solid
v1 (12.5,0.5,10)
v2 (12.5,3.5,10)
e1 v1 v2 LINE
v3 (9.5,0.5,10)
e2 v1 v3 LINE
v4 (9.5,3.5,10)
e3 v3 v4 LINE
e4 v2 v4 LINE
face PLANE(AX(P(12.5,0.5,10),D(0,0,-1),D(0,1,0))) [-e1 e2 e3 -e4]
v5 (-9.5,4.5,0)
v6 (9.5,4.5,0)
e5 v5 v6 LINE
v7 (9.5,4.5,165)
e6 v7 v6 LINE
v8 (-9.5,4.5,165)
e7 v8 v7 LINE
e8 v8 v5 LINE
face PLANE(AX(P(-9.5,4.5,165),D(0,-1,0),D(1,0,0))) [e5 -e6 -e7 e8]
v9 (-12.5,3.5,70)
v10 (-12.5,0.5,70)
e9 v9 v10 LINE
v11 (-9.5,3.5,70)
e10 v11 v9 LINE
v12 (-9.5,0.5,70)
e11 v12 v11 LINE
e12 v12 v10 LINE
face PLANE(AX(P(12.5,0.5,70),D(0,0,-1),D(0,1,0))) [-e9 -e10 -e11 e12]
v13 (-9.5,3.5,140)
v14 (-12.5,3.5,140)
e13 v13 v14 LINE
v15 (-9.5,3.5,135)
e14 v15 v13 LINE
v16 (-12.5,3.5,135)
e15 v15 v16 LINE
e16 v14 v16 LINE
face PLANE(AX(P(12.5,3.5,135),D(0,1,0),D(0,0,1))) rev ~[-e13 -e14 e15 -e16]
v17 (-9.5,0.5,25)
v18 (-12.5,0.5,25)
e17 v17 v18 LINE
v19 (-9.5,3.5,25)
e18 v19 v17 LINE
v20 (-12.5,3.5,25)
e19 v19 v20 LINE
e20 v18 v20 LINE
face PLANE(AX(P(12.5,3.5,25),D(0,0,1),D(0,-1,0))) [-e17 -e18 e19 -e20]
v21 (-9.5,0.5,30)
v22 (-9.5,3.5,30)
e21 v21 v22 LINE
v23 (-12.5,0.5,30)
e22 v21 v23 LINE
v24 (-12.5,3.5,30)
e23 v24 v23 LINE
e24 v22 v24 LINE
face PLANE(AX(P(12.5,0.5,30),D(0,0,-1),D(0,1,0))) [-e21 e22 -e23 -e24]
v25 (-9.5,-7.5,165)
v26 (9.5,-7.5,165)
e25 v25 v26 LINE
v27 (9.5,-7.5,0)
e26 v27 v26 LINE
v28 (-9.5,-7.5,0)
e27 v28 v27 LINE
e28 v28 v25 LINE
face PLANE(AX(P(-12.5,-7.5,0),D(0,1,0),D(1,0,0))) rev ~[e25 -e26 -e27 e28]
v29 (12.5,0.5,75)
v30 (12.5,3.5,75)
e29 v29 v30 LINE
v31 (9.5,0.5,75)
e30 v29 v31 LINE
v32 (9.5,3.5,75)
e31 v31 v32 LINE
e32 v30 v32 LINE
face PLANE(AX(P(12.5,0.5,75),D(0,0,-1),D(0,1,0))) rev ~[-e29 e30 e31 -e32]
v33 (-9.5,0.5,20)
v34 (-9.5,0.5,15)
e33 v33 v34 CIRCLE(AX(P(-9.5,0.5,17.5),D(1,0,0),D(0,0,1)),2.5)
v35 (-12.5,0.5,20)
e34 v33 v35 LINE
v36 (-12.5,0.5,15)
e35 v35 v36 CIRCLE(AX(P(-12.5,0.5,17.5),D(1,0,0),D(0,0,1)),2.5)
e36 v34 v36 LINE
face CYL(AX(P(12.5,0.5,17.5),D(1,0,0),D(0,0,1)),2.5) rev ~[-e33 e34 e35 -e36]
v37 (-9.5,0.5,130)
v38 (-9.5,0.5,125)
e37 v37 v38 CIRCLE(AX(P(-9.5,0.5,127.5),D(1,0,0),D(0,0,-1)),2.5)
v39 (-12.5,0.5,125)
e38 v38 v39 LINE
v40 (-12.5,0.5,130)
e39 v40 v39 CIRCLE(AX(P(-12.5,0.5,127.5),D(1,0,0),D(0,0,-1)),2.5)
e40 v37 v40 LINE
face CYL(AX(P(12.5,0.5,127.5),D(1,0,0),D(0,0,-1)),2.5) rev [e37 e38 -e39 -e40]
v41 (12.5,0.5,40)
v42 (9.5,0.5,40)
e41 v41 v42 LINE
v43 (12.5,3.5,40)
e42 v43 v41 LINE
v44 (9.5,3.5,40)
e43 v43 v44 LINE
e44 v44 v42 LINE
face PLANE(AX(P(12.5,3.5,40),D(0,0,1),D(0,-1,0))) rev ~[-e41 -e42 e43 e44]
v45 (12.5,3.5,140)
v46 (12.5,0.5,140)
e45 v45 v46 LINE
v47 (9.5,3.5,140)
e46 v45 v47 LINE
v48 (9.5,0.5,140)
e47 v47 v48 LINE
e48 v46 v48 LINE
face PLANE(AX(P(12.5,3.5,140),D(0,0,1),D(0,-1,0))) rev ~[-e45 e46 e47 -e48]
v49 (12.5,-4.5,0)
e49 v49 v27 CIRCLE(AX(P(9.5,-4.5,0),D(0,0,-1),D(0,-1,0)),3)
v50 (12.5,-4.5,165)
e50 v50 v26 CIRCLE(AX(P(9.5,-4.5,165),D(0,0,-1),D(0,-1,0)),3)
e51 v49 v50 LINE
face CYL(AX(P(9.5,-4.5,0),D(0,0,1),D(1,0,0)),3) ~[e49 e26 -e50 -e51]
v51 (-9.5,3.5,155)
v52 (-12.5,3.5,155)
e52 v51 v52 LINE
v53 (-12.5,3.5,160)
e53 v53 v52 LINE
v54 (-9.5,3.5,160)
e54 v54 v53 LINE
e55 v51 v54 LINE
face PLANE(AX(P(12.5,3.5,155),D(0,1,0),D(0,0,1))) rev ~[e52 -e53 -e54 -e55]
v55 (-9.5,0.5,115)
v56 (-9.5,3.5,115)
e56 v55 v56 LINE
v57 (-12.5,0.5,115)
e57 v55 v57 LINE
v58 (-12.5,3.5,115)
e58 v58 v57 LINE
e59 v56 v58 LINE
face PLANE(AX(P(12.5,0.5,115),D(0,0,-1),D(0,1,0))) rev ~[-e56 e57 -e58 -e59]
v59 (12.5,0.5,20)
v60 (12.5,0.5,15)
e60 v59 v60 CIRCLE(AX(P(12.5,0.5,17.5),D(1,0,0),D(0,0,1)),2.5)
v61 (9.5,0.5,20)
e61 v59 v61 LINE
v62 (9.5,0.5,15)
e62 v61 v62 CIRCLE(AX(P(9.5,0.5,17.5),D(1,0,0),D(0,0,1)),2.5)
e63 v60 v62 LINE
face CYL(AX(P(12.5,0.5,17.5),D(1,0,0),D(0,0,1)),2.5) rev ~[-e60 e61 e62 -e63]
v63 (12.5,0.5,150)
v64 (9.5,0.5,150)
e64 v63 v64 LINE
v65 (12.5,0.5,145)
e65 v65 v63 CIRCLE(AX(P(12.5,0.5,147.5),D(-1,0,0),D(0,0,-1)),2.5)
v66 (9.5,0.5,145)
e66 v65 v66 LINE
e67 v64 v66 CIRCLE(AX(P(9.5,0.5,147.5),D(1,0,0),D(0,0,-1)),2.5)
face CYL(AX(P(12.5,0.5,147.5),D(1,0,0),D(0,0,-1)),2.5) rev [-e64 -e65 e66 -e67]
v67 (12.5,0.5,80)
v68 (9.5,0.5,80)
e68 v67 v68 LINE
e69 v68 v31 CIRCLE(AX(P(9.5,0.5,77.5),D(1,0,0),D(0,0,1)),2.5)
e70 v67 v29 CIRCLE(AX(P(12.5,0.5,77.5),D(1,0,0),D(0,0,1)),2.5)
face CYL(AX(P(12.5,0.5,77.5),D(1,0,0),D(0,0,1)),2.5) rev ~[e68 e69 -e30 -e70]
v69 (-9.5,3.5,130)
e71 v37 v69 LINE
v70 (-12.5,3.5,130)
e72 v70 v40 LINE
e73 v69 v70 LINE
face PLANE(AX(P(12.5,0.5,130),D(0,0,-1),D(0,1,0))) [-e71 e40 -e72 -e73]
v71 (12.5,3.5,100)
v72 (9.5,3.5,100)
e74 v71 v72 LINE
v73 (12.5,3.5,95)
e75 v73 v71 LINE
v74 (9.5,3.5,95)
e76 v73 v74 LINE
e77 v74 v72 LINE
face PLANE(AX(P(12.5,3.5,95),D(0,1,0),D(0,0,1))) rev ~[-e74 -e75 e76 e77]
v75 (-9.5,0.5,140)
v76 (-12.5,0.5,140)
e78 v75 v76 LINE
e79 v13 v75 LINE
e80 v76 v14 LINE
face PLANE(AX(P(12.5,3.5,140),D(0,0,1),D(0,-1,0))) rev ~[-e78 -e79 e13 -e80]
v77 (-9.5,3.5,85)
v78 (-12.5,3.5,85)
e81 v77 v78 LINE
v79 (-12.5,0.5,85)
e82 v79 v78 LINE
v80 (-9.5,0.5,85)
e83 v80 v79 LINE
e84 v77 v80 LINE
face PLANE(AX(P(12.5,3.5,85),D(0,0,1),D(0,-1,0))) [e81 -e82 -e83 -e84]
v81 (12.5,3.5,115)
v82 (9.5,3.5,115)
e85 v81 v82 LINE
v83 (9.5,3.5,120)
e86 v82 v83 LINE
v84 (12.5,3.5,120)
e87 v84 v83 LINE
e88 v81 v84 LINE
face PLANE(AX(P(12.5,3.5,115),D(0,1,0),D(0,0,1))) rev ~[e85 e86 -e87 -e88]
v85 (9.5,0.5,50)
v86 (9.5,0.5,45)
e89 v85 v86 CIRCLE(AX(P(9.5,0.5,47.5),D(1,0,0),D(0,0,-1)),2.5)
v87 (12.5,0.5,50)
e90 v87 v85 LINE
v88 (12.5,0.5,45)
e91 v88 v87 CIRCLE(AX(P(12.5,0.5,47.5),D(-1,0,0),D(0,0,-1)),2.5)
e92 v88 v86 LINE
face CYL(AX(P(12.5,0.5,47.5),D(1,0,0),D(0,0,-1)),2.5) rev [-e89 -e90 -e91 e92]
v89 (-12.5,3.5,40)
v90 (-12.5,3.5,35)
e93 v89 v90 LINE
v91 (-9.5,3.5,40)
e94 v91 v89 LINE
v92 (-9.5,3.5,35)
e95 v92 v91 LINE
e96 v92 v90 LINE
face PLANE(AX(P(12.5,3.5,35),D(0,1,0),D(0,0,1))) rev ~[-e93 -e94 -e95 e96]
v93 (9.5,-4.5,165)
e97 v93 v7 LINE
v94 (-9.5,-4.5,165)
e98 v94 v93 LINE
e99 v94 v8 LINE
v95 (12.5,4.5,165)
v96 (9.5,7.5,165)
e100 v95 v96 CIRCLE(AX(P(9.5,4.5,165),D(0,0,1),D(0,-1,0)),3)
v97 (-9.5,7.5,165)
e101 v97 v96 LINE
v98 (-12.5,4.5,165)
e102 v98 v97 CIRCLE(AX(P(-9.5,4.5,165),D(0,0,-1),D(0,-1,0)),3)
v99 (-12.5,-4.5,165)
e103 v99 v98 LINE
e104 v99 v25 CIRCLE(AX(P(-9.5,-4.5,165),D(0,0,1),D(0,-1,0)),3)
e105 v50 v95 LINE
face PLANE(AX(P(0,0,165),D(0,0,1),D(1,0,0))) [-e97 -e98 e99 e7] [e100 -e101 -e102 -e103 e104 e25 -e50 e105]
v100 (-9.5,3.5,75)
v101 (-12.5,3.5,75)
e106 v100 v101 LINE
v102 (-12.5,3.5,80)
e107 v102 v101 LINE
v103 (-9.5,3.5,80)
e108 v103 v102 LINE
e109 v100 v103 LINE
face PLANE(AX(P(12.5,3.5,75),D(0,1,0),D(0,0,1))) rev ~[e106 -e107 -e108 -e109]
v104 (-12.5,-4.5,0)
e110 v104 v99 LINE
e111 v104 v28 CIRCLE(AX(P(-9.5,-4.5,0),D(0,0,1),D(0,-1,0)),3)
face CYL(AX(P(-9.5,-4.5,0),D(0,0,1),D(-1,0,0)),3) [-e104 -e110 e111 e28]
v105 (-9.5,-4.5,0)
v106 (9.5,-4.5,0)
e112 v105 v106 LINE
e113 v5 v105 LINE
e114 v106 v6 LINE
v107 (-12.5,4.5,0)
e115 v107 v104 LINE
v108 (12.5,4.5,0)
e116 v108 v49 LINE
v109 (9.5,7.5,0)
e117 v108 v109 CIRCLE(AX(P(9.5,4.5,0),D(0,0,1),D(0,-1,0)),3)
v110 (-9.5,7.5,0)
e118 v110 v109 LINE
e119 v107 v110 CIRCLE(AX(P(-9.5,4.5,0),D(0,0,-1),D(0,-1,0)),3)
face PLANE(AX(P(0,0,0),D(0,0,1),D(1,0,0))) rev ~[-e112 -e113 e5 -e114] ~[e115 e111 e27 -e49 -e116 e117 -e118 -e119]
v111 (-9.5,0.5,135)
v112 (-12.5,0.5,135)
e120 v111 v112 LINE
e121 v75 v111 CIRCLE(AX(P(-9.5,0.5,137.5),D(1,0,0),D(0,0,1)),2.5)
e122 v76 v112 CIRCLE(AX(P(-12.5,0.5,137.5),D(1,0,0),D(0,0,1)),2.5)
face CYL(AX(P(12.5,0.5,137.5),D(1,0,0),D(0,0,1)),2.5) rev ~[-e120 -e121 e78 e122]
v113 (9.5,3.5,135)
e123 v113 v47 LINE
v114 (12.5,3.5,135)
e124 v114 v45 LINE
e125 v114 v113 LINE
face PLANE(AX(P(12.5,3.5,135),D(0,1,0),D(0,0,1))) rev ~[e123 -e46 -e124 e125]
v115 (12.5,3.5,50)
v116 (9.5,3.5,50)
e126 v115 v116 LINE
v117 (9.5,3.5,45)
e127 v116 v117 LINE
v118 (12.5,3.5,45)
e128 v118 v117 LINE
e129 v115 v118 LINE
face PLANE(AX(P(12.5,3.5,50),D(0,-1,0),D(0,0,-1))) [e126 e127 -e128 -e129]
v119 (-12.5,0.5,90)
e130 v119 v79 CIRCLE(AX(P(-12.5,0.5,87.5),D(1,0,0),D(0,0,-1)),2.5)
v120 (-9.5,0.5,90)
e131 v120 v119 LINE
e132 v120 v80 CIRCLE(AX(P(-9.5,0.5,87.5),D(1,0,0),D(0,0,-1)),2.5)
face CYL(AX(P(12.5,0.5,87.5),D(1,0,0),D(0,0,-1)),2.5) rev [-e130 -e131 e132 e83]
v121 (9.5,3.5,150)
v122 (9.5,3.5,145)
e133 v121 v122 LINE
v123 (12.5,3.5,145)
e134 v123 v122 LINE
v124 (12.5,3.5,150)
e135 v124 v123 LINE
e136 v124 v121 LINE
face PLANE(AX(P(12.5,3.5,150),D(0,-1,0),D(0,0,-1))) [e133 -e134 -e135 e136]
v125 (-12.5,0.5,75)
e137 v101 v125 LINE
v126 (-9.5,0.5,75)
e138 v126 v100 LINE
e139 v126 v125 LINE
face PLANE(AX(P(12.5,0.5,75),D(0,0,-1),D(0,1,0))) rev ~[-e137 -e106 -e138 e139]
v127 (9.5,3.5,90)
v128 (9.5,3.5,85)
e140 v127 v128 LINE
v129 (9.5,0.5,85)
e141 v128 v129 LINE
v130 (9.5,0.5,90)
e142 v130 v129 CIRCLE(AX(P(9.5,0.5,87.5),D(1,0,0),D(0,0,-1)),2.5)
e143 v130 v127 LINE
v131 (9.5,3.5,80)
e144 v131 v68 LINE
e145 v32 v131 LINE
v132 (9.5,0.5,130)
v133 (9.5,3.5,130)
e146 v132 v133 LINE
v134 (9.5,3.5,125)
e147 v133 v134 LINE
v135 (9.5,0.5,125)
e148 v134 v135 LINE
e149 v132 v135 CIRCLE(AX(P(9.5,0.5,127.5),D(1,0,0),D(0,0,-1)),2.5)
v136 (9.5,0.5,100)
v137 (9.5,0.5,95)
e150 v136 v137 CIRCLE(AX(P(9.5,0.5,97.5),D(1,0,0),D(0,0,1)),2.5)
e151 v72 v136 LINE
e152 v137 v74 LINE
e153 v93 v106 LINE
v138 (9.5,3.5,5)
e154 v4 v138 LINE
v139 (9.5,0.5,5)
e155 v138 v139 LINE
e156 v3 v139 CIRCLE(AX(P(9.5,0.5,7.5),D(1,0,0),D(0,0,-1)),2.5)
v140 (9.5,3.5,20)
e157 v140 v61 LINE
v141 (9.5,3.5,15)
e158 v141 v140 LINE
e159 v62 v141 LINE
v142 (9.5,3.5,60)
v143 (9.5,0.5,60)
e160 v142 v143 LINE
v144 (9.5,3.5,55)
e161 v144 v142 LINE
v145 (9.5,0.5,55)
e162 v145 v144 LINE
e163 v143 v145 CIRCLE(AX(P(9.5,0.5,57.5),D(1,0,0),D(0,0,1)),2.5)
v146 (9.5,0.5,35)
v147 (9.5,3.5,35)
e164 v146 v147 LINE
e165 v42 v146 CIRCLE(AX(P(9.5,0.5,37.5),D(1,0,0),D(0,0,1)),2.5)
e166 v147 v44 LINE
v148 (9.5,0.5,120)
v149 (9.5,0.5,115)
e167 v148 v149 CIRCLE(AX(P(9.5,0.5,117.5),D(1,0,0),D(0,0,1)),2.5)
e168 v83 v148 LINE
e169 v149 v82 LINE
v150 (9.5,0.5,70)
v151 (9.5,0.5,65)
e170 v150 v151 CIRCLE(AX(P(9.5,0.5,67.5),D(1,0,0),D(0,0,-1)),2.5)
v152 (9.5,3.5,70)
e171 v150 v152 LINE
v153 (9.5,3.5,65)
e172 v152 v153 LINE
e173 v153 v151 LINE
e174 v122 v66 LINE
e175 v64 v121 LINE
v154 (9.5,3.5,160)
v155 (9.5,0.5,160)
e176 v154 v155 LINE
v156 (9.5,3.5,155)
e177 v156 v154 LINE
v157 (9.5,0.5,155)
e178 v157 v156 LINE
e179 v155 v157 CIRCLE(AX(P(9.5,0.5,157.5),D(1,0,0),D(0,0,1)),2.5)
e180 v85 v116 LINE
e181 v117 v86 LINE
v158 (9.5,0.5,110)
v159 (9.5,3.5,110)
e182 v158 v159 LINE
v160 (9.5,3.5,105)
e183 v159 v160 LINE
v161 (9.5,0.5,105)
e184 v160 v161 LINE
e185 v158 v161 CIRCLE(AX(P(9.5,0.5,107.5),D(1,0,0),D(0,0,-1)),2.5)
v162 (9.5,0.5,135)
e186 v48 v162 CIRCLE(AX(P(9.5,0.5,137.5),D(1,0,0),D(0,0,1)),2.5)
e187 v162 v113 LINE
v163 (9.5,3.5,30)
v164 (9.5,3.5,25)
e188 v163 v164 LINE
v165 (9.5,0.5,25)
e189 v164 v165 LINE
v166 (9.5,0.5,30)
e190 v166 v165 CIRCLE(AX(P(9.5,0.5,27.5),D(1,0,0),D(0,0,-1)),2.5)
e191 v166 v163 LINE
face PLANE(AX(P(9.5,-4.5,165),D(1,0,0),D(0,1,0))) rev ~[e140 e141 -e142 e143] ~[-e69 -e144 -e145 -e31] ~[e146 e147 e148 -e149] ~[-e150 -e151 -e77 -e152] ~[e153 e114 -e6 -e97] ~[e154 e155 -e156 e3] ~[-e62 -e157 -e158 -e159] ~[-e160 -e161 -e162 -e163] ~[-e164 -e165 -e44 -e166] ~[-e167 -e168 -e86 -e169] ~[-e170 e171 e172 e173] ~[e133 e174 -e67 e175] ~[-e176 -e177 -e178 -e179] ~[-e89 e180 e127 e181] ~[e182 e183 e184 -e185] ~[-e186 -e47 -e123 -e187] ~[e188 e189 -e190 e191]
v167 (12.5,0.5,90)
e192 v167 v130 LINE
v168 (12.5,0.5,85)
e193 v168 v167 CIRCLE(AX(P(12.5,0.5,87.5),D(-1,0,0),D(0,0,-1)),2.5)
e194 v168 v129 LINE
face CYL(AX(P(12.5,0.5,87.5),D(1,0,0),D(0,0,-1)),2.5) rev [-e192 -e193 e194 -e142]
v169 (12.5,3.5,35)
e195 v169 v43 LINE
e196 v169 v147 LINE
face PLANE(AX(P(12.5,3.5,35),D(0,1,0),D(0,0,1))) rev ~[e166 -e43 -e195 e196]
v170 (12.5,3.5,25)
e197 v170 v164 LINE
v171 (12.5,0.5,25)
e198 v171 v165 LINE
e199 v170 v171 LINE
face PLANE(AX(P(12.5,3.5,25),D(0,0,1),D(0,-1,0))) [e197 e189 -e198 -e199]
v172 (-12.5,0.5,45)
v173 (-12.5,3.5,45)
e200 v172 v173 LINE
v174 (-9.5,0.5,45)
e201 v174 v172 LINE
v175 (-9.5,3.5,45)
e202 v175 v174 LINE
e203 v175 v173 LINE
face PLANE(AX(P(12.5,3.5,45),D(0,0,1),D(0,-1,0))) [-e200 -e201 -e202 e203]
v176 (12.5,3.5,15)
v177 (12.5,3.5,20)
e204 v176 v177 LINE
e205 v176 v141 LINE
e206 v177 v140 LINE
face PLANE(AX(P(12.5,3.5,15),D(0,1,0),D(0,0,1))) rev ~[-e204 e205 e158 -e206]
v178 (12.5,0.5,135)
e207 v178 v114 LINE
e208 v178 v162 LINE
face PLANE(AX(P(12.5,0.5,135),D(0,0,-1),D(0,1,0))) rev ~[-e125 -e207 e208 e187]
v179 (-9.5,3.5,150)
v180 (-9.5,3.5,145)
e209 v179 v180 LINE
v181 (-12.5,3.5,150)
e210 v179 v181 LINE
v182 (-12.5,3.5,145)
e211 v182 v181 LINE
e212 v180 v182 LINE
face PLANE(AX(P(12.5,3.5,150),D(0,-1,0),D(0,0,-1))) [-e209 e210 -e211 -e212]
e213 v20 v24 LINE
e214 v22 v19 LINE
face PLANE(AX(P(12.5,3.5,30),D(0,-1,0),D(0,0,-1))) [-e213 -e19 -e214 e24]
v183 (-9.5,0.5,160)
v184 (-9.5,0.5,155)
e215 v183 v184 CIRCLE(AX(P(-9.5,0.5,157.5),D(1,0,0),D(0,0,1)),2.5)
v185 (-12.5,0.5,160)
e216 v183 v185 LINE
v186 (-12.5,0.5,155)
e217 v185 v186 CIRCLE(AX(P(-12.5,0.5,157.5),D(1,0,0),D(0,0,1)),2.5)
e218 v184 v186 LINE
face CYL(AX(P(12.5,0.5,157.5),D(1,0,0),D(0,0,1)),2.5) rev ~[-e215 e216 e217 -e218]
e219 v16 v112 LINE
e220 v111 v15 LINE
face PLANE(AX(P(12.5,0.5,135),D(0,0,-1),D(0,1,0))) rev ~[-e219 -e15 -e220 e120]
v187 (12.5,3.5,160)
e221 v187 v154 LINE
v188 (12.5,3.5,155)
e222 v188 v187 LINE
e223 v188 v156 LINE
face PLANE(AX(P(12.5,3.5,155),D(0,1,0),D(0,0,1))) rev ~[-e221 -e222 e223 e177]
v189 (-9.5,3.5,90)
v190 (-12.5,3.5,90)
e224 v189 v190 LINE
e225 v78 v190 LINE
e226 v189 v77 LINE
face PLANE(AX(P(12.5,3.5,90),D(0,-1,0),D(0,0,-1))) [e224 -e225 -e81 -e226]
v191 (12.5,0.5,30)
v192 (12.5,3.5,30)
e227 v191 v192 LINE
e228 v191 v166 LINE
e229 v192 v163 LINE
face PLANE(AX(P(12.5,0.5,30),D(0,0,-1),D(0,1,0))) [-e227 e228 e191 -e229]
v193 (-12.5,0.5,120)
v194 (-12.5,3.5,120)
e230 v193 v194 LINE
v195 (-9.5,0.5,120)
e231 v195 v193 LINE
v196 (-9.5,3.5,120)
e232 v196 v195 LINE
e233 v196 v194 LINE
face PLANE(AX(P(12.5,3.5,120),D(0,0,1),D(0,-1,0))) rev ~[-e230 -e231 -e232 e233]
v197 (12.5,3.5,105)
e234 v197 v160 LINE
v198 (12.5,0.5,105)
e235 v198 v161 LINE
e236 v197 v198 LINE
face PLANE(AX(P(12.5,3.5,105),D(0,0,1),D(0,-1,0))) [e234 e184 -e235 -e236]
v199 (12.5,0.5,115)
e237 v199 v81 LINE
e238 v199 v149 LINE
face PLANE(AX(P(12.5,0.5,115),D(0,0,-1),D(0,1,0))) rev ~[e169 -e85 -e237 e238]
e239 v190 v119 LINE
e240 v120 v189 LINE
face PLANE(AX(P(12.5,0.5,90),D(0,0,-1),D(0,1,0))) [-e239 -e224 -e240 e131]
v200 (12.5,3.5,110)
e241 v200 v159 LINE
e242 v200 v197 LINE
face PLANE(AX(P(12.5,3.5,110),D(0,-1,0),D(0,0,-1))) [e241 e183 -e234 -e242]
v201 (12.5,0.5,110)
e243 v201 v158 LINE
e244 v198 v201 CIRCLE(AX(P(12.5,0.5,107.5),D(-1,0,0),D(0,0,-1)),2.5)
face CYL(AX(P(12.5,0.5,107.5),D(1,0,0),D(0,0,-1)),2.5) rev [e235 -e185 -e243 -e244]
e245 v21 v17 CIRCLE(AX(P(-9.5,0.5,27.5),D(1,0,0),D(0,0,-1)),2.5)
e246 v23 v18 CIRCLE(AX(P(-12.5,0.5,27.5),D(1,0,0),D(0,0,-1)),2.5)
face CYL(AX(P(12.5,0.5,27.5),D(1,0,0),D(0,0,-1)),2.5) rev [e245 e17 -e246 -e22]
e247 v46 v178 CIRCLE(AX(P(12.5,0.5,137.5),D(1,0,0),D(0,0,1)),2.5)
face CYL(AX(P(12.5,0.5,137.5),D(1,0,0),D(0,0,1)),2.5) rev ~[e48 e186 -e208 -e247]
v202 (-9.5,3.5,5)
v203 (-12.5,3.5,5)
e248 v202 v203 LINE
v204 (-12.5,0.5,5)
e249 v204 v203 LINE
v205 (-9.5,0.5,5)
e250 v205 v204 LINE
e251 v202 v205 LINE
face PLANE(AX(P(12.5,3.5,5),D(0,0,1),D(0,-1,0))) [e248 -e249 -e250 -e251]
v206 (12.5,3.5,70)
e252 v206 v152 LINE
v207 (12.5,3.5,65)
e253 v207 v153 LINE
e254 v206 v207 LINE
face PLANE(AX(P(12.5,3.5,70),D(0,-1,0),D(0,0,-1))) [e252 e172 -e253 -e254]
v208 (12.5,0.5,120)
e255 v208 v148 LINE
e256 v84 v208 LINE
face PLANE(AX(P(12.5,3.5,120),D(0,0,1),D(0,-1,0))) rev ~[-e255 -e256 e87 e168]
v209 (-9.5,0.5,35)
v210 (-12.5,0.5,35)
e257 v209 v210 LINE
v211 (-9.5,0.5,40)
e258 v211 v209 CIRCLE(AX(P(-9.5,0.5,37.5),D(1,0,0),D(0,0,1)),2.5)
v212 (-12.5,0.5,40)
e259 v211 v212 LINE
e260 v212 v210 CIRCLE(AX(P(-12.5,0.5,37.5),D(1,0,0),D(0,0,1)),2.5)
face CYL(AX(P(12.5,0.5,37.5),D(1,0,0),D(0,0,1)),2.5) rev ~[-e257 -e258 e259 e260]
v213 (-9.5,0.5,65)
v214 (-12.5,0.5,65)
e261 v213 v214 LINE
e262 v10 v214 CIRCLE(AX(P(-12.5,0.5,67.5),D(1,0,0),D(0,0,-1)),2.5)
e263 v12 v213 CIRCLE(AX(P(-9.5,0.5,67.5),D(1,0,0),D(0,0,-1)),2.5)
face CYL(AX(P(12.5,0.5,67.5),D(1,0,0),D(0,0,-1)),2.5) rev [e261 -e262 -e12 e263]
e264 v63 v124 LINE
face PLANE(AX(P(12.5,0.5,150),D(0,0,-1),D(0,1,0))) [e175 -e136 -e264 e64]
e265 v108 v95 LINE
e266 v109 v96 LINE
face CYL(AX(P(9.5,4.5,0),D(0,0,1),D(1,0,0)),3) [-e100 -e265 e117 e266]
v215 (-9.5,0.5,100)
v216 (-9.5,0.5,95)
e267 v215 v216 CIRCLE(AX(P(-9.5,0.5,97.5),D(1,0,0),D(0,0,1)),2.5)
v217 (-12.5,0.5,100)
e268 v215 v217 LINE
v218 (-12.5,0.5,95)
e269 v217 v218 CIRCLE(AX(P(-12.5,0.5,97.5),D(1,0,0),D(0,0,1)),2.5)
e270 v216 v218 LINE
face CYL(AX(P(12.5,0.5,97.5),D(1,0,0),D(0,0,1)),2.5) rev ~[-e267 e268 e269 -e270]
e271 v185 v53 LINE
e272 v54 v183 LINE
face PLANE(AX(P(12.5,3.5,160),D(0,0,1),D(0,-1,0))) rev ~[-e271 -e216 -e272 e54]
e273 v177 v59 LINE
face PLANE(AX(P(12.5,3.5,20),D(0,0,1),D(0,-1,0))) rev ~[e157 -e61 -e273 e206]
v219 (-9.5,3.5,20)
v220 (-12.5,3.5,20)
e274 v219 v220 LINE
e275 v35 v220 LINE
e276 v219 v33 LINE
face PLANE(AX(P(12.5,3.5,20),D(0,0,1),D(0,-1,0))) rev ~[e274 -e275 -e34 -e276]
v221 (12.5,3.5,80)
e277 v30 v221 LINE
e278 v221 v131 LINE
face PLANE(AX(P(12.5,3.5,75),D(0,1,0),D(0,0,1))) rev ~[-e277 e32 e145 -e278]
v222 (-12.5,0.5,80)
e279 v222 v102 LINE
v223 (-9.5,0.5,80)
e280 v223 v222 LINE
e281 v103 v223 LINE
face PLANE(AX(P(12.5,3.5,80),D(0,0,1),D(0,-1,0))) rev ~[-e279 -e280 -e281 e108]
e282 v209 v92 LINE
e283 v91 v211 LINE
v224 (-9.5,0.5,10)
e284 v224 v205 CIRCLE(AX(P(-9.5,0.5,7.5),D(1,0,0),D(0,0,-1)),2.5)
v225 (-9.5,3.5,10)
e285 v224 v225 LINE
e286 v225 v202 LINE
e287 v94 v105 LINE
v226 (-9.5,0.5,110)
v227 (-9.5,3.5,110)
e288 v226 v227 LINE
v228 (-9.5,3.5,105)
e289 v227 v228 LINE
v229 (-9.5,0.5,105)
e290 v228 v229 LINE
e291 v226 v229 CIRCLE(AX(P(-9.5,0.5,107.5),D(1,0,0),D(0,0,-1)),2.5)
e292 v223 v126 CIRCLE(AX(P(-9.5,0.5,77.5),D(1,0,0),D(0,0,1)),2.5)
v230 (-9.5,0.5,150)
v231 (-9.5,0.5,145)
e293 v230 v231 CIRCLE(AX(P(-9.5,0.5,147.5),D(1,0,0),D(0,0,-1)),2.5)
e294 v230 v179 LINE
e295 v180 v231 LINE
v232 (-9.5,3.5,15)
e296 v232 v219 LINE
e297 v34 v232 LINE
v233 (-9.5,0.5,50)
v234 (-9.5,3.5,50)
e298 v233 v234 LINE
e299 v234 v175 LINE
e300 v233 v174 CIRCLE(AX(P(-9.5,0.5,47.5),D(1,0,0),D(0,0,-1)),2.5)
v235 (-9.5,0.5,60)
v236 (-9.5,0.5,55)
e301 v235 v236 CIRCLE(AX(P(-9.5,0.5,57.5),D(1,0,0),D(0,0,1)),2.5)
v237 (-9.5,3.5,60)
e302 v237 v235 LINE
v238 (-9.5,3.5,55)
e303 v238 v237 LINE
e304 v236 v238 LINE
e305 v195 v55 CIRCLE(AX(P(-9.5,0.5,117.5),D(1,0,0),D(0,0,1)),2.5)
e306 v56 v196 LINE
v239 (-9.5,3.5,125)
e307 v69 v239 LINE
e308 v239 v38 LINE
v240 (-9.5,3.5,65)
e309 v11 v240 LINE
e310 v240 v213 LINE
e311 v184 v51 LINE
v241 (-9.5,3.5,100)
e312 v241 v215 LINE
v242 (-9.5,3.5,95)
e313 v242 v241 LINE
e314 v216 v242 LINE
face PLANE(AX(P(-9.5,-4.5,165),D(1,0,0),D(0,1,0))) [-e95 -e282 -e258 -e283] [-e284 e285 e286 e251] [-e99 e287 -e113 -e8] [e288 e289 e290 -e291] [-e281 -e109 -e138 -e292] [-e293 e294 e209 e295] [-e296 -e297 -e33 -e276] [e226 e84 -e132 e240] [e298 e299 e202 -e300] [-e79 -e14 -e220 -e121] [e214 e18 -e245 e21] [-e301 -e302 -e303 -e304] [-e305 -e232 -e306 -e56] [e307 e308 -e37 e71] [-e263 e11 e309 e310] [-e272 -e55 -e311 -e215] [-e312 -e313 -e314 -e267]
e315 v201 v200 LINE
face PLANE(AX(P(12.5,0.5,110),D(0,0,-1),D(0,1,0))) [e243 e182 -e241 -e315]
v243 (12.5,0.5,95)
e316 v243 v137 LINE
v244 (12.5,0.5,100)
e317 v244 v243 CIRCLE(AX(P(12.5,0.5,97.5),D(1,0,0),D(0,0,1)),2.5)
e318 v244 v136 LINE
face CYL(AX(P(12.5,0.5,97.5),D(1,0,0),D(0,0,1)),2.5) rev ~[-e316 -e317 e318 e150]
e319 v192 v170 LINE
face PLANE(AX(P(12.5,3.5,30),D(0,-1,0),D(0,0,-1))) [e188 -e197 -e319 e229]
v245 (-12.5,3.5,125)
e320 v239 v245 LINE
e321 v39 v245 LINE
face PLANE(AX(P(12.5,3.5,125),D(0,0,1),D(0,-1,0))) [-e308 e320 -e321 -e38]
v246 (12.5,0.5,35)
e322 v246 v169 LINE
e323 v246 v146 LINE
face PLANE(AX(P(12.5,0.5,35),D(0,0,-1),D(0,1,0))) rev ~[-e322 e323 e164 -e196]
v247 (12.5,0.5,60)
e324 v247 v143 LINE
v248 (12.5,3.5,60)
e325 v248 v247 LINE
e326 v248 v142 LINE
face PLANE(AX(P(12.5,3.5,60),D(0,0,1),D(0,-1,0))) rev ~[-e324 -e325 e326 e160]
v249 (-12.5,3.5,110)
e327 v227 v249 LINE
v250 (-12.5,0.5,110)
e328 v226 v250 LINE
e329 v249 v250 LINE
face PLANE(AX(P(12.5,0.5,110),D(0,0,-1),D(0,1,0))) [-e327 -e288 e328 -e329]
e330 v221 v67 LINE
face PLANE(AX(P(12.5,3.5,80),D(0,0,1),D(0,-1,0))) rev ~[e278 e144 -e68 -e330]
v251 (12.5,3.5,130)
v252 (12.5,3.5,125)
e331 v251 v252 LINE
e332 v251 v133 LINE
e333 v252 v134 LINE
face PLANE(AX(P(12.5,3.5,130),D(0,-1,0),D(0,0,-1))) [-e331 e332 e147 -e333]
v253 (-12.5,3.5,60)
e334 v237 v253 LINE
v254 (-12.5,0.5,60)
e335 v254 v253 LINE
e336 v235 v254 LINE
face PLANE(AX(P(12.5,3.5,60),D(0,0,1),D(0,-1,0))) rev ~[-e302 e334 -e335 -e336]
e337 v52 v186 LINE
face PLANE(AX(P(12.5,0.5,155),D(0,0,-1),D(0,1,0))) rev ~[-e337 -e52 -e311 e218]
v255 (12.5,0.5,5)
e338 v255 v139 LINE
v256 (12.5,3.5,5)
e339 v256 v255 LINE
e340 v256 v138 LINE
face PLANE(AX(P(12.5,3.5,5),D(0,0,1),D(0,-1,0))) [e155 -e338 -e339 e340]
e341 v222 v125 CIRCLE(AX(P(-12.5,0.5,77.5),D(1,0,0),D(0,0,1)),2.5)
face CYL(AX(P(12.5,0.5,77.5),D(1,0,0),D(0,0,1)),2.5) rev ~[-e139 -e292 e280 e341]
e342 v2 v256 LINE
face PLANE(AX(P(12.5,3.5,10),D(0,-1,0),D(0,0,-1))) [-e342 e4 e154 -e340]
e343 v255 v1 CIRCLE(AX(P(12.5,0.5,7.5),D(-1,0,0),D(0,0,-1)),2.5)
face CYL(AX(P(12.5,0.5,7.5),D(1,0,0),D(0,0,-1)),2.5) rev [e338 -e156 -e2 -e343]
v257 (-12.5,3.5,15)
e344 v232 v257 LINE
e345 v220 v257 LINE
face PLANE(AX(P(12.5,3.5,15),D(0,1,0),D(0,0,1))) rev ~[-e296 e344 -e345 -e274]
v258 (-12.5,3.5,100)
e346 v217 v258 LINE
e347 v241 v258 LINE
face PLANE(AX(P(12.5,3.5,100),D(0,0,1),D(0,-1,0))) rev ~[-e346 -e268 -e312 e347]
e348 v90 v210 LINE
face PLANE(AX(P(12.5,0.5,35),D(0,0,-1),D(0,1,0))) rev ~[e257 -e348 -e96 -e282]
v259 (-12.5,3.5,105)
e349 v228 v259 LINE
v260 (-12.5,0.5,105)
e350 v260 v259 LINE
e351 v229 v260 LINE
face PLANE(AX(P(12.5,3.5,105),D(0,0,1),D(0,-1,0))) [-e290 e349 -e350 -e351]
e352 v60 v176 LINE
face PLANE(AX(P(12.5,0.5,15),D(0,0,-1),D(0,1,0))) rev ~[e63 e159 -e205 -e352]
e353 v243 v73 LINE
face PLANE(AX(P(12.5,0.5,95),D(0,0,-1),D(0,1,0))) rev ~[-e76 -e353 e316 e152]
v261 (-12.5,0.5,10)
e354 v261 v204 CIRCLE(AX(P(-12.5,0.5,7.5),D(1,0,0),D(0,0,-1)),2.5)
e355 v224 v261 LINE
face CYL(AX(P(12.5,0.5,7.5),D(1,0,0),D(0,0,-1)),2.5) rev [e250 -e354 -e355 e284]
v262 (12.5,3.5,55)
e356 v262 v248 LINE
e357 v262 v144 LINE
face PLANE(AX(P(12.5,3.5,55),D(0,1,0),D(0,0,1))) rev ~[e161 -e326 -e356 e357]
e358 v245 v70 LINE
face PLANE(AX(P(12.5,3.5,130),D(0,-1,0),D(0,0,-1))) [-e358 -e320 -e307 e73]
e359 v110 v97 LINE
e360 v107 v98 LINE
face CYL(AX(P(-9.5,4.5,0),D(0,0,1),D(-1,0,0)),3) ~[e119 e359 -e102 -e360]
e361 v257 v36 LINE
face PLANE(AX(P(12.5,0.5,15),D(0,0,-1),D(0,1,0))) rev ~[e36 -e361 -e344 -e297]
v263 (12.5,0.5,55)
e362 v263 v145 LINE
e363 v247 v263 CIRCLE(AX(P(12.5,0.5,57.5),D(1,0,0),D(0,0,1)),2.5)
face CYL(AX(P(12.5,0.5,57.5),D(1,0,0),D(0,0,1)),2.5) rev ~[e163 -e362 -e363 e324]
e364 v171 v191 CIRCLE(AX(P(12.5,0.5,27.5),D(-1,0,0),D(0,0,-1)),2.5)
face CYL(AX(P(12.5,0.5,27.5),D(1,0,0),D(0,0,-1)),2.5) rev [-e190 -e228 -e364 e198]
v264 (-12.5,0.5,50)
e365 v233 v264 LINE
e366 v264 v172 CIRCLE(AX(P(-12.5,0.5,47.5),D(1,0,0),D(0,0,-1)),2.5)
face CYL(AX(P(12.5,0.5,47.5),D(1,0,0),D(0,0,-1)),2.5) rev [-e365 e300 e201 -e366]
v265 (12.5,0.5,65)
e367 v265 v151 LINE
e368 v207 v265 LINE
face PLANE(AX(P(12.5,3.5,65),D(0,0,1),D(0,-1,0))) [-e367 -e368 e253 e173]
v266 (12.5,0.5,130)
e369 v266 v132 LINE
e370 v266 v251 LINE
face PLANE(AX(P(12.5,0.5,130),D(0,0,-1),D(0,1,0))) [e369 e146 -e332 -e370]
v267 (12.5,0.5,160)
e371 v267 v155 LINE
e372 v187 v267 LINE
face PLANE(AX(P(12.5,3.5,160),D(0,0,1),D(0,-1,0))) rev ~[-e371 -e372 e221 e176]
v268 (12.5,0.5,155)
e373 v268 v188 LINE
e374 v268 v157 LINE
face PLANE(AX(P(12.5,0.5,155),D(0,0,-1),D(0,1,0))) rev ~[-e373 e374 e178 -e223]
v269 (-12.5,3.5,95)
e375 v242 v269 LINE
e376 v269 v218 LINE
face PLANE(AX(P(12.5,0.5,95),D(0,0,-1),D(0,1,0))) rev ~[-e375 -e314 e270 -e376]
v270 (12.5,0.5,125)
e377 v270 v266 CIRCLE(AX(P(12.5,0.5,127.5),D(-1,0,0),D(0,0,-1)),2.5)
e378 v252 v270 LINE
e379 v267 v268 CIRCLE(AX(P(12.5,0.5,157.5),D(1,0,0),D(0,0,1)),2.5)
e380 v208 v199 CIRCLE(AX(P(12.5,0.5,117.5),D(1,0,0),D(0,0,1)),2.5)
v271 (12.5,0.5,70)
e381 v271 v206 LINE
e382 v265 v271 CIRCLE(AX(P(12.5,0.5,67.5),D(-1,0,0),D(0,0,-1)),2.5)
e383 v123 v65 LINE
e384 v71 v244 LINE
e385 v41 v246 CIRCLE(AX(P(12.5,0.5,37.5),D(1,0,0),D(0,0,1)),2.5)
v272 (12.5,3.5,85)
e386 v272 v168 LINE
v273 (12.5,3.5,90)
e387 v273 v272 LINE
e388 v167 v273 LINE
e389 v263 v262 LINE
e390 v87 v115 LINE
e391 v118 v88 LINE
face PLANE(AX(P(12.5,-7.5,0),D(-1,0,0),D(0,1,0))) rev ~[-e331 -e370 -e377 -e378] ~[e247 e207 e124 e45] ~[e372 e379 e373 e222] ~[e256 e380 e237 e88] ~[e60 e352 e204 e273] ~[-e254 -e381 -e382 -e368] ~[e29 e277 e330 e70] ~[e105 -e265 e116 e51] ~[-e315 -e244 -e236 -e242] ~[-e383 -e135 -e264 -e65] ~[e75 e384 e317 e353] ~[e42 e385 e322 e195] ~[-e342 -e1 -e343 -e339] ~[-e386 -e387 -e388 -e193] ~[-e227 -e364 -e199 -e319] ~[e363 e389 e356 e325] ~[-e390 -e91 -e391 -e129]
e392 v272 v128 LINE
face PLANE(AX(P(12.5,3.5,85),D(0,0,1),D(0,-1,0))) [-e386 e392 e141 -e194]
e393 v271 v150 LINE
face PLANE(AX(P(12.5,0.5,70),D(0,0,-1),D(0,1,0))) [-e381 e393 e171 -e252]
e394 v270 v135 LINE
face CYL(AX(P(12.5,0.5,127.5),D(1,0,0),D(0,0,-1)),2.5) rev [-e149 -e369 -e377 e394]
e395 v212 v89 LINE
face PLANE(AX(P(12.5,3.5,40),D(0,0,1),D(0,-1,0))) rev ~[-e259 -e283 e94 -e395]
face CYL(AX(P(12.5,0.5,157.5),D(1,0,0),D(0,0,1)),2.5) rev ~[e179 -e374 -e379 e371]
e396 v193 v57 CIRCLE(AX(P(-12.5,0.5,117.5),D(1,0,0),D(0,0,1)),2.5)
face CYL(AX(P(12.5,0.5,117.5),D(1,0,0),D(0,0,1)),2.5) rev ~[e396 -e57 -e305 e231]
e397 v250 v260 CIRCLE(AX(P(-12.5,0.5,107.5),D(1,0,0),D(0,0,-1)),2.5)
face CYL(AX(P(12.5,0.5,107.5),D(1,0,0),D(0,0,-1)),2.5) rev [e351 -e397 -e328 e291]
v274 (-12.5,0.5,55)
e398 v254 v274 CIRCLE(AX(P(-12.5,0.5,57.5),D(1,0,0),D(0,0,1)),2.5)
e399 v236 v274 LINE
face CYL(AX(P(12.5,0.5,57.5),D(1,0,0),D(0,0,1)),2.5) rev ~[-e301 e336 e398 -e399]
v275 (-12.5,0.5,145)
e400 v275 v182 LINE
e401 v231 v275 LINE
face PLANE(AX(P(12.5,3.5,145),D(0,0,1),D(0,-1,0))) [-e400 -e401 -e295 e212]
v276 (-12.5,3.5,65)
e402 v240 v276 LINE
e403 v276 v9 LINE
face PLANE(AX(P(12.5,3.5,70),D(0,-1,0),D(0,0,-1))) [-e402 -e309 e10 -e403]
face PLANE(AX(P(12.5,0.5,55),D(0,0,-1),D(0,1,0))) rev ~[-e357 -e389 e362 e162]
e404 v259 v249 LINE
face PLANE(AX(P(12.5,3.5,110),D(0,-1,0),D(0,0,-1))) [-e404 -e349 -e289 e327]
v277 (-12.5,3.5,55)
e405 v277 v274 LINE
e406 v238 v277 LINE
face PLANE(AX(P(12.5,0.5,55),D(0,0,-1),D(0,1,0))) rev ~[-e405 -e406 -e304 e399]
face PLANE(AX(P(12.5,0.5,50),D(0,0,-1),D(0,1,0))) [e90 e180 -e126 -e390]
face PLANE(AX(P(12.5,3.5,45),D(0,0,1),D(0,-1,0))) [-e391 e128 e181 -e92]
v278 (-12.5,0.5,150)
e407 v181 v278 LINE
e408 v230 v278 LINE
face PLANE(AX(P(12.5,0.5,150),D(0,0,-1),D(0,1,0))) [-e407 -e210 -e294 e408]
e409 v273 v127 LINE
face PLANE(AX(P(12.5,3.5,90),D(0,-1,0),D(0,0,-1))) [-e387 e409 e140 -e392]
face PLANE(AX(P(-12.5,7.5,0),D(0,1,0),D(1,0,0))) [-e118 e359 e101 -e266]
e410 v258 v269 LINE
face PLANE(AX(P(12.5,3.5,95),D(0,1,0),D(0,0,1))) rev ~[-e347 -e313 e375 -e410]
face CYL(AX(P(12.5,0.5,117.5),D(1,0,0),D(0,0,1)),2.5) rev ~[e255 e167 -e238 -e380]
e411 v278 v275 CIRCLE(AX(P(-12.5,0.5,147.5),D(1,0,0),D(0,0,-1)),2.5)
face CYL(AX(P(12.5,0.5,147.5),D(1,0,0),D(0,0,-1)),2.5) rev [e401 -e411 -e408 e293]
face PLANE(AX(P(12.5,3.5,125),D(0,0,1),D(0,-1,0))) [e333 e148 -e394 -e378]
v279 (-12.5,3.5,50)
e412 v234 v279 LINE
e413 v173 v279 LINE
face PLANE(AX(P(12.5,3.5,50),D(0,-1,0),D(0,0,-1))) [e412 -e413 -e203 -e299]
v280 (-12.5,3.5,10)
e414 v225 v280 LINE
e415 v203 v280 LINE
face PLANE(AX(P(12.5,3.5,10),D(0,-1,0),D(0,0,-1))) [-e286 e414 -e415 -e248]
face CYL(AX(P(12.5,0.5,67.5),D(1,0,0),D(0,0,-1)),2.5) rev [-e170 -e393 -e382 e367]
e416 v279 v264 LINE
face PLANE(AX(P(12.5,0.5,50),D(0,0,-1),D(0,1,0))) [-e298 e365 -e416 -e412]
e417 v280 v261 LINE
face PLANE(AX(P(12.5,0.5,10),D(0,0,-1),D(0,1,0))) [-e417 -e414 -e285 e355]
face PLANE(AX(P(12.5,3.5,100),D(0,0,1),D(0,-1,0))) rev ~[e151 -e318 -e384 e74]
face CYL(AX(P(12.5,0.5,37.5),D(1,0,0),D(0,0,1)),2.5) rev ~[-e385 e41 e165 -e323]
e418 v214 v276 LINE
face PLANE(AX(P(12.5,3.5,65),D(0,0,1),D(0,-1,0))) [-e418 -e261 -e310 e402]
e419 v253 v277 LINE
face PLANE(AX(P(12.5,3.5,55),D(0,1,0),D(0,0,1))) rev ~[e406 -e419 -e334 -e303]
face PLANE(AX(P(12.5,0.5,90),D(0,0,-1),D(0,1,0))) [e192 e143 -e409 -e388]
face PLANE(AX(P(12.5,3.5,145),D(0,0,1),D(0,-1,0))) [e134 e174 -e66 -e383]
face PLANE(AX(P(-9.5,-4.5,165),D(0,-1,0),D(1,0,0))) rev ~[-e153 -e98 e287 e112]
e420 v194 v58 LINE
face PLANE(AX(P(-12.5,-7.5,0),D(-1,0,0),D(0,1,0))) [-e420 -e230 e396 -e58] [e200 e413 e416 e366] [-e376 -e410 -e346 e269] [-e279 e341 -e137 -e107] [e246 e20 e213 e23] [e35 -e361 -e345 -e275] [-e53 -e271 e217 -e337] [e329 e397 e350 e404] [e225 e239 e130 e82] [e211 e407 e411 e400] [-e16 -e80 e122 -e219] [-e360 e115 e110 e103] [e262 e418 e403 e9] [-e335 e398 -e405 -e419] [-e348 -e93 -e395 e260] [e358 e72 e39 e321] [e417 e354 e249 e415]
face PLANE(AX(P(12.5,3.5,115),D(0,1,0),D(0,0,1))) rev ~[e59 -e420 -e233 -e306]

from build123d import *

# Parameters (mm, degrees)
SKETCH1_W           = 25
SKETCH1_H           = 15
BOSS_EXTRUDE1_DEPTH = 165
SKETCH2_W           = 19
SKETCH2_H           = 9
CUT_EXTRUDE1_DEPTH  = 263
CUT_EXTRUDE2_DEPTH  = 263
FILLET1_R           = 3


with BuildPart() as part:
    # Sketch1 → Boss-Extrude1 (new body)
    with BuildSketch(Plane.XY):
        Rectangle(SKETCH1_W, SKETCH1_H)
    extrude(amount=BOSS_EXTRUDE1_DEPTH)

    # Sketch2 → Cut-Extrude1 (cut)
    with BuildSketch(Plane.XY.offset(165)):
        Rectangle(SKETCH2_W, SKETCH2_H)
    extrude(amount=-CUT_EXTRUDE1_DEPTH, mode=Mode.SUBTRACT)

    # Sketch3 → Cut-Extrude2 (cut)
    with BuildSketch(Plane(origin=(12.5, 0, 0), x_dir=(0, 0, -1), z_dir=(1, 0, 0))):
        with BuildLine():
            Line((-160, 3.5), (-160, 0.5))
            ThreePointArc((-160, 0.5), (-157.5, -2), (-155, 0.5))
            Line((-155, 0.5), (-155, 3.5))
            Line((-155, 3.5), (-160, 3.5))
        make_face()
        with BuildLine():
            ThreePointArc((-145, 0.5), (-147.5, -2), (-150, 0.5))
            Line((-150, 0.5), (-150, 3.5))
            Line((-150, 3.5), (-145, 3.5))
            Line((-145, 3.5), (-145, 0.5))
        make_face()
        with BuildLine():
            Line((-140, 3.5), (-140, 0.5))
            ThreePointArc((-140, 0.5), (-137.5, -2), (-135, 0.5))
            Line((-135, 0.5), (-135, 3.5))
            Line((-135, 3.5), (-140, 3.5))
        make_face()
        with BuildLine():
            ThreePointArc((-125, 0.5), (-127.5, -2), (-130, 0.5))
            Line((-130, 0.5), (-130, 3.5))
            Line((-130, 3.5), (-125, 3.5))
            Line((-125, 3.5), (-125, 0.5))
        make_face()
        with BuildLine():
            Line((-120, 3.5), (-120, 0.5))
            ThreePointArc((-120, 0.5), (-117.5, -2), (-115, 0.5))
            Line((-115, 0.5), (-115, 3.5))
            Line((-115, 3.5), (-120, 3.5))
        make_face()
        with BuildLine():
            ThreePointArc((-105, 0.5), (-107.5, -2), (-110, 0.5))
            Line((-110, 0.5), (-110, 3.5))
            Line((-110, 3.5), (-105, 3.5))
            Line((-105, 3.5), (-105, 0.5))
        make_face()
        with BuildLine():
            Line((-100, 3.5), (-100, 0.5))
            ThreePointArc((-100, 0.5), (-97.5, -2), (-95, 0.5))
            Line((-95, 0.5), (-95, 3.5))
            Line((-95, 3.5), (-100, 3.5))
        make_face()
        with BuildLine():
            ThreePointArc((-85, 0.5), (-87.5, -2), (-90, 0.5))
            Line((-90, 0.5), (-90, 3.5))
            Line((-90, 3.5), (-85, 3.5))
            Line((-85, 3.5), (-85, 0.5))
        make_face()
        with BuildLine():
            Line((-80, 3.5), (-80, 0.5))
            ThreePointArc((-80, 0.5), (-77.5, -2), (-75, 0.5))
            Line((-75, 0.5), (-75, 3.5))
            Line((-75, 3.5), (-80, 3.5))
        make_face()
        with BuildLine():
            ThreePointArc((-65, 0.5), (-67.5, -2), (-70, 0.5))
            Line((-70, 0.5), (-70, 3.5))
            Line((-70, 3.5), (-65, 3.5))
            Line((-65, 3.5), (-65, 0.5))
        make_face()
        with BuildLine():
            Line((-60, 3.5), (-60, 0.5))
            ThreePointArc((-60, 0.5), (-57.5, -2), (-55, 0.5))
            Line((-55, 0.5), (-55, 3.5))
            Line((-55, 3.5), (-60, 3.5))
        make_face()
        with BuildLine():
            ThreePointArc((-45, 0.5), (-47.5, -2), (-50, 0.5))
            Line((-50, 0.5), (-50, 3.5))
            Line((-50, 3.5), (-45, 3.5))
            Line((-45, 3.5), (-45, 0.5))
        make_face()
        with BuildLine():
            Line((-40, 3.5), (-40, 0.5))
            ThreePointArc((-40, 0.5), (-37.5, -2), (-35, 0.5))
            Line((-35, 0.5), (-35, 3.5))
            Line((-35, 3.5), (-40, 3.5))
        make_face()
        with BuildLine():
            ThreePointArc((-25, 0.5), (-27.5, -2), (-30, 0.5))
            Line((-30, 0.5), (-30, 3.5))
            Line((-30, 3.5), (-25, 3.5))
            Line((-25, 3.5), (-25, 0.5))
        make_face()
        with BuildLine():
            Line((-20, 3.5), (-20, 0.5))
            ThreePointArc((-20, 0.5), (-17.5, -2), (-15, 0.5))
            Line((-15, 0.5), (-15, 3.5))
            Line((-15, 3.5), (-20, 3.5))
        make_face()
        with BuildLine():
            ThreePointArc((-5, 0.5), (-7.5, -2), (-10, 0.5))
            Line((-10, 0.5), (-10, 3.5))
            Line((-10, 3.5), (-5, 3.5))
            Line((-5, 3.5), (-5, 0.5))
        make_face()
        with BuildLine():
            Line((0, 3.5), (0, 0.5))
            ThreePointArc((0, 0.5), (2.5, -2), (5, 0.5))
            Line((5, 0.5), (5, 3.5))
            Line((5, 3.5), (0, 3.5))
        make_face()
        with BuildLine():
            ThreePointArc((15, 0.5), (12.5, -2), (10, 0.5))
            Line((10, 0.5), (10, 3.5))
            Line((10, 3.5), (15, 3.5))
            Line((15, 3.5), (15, 0.5))
        make_face()
        with BuildLine():
            Line((20, 3.5), (20, 0.5))
            ThreePointArc((20, 0.5), (22.5, -2), (25, 0.5))
            Line((25, 0.5), (25, 3.5))
            Line((25, 3.5), (20, 3.5))
        make_face()
        with BuildLine():
            ThreePointArc((35, 0.5), (32.5, -2), (30, 0.5))
            Line((30, 0.5), (30, 3.5))
            Line((30, 3.5), (35, 3.5))
            Line((35, 3.5), (35, 0.5))
        make_face()
        with BuildLine():
            Line((40, 3.5), (40, 0.5))
            ThreePointArc((40, 0.5), (42.5, -2), (45, 0.5))
            Line((45, 0.5), (45, 3.5))
            Line((45, 3.5), (40, 3.5))
        make_face()
        with BuildLine():
            ThreePointArc((55, 0.5), (52.5, -2), (50, 0.5))
            Line((50, 0.5), (50, 3.5))
            Line((50, 3.5), (55, 3.5))
            Line((55, 3.5), (55, 0.5))
        make_face()
    extrude(amount=-CUT_EXTRUDE2_DEPTH, mode=Mode.SUBTRACT)

    # Fillet1
    fillet1_edges = [part.edges().sort_by_distance(p)[0] for p in [
        (12.5, -7.5, 82.5),
        (-12.5, -7.5, 82.5),
        (-12.5, 7.5, 82.5),
        (12.5, 7.5, 82.5),
    ]]
    fillet(fillet1_edges, radius=FILLET1_R)


solid = part.part
